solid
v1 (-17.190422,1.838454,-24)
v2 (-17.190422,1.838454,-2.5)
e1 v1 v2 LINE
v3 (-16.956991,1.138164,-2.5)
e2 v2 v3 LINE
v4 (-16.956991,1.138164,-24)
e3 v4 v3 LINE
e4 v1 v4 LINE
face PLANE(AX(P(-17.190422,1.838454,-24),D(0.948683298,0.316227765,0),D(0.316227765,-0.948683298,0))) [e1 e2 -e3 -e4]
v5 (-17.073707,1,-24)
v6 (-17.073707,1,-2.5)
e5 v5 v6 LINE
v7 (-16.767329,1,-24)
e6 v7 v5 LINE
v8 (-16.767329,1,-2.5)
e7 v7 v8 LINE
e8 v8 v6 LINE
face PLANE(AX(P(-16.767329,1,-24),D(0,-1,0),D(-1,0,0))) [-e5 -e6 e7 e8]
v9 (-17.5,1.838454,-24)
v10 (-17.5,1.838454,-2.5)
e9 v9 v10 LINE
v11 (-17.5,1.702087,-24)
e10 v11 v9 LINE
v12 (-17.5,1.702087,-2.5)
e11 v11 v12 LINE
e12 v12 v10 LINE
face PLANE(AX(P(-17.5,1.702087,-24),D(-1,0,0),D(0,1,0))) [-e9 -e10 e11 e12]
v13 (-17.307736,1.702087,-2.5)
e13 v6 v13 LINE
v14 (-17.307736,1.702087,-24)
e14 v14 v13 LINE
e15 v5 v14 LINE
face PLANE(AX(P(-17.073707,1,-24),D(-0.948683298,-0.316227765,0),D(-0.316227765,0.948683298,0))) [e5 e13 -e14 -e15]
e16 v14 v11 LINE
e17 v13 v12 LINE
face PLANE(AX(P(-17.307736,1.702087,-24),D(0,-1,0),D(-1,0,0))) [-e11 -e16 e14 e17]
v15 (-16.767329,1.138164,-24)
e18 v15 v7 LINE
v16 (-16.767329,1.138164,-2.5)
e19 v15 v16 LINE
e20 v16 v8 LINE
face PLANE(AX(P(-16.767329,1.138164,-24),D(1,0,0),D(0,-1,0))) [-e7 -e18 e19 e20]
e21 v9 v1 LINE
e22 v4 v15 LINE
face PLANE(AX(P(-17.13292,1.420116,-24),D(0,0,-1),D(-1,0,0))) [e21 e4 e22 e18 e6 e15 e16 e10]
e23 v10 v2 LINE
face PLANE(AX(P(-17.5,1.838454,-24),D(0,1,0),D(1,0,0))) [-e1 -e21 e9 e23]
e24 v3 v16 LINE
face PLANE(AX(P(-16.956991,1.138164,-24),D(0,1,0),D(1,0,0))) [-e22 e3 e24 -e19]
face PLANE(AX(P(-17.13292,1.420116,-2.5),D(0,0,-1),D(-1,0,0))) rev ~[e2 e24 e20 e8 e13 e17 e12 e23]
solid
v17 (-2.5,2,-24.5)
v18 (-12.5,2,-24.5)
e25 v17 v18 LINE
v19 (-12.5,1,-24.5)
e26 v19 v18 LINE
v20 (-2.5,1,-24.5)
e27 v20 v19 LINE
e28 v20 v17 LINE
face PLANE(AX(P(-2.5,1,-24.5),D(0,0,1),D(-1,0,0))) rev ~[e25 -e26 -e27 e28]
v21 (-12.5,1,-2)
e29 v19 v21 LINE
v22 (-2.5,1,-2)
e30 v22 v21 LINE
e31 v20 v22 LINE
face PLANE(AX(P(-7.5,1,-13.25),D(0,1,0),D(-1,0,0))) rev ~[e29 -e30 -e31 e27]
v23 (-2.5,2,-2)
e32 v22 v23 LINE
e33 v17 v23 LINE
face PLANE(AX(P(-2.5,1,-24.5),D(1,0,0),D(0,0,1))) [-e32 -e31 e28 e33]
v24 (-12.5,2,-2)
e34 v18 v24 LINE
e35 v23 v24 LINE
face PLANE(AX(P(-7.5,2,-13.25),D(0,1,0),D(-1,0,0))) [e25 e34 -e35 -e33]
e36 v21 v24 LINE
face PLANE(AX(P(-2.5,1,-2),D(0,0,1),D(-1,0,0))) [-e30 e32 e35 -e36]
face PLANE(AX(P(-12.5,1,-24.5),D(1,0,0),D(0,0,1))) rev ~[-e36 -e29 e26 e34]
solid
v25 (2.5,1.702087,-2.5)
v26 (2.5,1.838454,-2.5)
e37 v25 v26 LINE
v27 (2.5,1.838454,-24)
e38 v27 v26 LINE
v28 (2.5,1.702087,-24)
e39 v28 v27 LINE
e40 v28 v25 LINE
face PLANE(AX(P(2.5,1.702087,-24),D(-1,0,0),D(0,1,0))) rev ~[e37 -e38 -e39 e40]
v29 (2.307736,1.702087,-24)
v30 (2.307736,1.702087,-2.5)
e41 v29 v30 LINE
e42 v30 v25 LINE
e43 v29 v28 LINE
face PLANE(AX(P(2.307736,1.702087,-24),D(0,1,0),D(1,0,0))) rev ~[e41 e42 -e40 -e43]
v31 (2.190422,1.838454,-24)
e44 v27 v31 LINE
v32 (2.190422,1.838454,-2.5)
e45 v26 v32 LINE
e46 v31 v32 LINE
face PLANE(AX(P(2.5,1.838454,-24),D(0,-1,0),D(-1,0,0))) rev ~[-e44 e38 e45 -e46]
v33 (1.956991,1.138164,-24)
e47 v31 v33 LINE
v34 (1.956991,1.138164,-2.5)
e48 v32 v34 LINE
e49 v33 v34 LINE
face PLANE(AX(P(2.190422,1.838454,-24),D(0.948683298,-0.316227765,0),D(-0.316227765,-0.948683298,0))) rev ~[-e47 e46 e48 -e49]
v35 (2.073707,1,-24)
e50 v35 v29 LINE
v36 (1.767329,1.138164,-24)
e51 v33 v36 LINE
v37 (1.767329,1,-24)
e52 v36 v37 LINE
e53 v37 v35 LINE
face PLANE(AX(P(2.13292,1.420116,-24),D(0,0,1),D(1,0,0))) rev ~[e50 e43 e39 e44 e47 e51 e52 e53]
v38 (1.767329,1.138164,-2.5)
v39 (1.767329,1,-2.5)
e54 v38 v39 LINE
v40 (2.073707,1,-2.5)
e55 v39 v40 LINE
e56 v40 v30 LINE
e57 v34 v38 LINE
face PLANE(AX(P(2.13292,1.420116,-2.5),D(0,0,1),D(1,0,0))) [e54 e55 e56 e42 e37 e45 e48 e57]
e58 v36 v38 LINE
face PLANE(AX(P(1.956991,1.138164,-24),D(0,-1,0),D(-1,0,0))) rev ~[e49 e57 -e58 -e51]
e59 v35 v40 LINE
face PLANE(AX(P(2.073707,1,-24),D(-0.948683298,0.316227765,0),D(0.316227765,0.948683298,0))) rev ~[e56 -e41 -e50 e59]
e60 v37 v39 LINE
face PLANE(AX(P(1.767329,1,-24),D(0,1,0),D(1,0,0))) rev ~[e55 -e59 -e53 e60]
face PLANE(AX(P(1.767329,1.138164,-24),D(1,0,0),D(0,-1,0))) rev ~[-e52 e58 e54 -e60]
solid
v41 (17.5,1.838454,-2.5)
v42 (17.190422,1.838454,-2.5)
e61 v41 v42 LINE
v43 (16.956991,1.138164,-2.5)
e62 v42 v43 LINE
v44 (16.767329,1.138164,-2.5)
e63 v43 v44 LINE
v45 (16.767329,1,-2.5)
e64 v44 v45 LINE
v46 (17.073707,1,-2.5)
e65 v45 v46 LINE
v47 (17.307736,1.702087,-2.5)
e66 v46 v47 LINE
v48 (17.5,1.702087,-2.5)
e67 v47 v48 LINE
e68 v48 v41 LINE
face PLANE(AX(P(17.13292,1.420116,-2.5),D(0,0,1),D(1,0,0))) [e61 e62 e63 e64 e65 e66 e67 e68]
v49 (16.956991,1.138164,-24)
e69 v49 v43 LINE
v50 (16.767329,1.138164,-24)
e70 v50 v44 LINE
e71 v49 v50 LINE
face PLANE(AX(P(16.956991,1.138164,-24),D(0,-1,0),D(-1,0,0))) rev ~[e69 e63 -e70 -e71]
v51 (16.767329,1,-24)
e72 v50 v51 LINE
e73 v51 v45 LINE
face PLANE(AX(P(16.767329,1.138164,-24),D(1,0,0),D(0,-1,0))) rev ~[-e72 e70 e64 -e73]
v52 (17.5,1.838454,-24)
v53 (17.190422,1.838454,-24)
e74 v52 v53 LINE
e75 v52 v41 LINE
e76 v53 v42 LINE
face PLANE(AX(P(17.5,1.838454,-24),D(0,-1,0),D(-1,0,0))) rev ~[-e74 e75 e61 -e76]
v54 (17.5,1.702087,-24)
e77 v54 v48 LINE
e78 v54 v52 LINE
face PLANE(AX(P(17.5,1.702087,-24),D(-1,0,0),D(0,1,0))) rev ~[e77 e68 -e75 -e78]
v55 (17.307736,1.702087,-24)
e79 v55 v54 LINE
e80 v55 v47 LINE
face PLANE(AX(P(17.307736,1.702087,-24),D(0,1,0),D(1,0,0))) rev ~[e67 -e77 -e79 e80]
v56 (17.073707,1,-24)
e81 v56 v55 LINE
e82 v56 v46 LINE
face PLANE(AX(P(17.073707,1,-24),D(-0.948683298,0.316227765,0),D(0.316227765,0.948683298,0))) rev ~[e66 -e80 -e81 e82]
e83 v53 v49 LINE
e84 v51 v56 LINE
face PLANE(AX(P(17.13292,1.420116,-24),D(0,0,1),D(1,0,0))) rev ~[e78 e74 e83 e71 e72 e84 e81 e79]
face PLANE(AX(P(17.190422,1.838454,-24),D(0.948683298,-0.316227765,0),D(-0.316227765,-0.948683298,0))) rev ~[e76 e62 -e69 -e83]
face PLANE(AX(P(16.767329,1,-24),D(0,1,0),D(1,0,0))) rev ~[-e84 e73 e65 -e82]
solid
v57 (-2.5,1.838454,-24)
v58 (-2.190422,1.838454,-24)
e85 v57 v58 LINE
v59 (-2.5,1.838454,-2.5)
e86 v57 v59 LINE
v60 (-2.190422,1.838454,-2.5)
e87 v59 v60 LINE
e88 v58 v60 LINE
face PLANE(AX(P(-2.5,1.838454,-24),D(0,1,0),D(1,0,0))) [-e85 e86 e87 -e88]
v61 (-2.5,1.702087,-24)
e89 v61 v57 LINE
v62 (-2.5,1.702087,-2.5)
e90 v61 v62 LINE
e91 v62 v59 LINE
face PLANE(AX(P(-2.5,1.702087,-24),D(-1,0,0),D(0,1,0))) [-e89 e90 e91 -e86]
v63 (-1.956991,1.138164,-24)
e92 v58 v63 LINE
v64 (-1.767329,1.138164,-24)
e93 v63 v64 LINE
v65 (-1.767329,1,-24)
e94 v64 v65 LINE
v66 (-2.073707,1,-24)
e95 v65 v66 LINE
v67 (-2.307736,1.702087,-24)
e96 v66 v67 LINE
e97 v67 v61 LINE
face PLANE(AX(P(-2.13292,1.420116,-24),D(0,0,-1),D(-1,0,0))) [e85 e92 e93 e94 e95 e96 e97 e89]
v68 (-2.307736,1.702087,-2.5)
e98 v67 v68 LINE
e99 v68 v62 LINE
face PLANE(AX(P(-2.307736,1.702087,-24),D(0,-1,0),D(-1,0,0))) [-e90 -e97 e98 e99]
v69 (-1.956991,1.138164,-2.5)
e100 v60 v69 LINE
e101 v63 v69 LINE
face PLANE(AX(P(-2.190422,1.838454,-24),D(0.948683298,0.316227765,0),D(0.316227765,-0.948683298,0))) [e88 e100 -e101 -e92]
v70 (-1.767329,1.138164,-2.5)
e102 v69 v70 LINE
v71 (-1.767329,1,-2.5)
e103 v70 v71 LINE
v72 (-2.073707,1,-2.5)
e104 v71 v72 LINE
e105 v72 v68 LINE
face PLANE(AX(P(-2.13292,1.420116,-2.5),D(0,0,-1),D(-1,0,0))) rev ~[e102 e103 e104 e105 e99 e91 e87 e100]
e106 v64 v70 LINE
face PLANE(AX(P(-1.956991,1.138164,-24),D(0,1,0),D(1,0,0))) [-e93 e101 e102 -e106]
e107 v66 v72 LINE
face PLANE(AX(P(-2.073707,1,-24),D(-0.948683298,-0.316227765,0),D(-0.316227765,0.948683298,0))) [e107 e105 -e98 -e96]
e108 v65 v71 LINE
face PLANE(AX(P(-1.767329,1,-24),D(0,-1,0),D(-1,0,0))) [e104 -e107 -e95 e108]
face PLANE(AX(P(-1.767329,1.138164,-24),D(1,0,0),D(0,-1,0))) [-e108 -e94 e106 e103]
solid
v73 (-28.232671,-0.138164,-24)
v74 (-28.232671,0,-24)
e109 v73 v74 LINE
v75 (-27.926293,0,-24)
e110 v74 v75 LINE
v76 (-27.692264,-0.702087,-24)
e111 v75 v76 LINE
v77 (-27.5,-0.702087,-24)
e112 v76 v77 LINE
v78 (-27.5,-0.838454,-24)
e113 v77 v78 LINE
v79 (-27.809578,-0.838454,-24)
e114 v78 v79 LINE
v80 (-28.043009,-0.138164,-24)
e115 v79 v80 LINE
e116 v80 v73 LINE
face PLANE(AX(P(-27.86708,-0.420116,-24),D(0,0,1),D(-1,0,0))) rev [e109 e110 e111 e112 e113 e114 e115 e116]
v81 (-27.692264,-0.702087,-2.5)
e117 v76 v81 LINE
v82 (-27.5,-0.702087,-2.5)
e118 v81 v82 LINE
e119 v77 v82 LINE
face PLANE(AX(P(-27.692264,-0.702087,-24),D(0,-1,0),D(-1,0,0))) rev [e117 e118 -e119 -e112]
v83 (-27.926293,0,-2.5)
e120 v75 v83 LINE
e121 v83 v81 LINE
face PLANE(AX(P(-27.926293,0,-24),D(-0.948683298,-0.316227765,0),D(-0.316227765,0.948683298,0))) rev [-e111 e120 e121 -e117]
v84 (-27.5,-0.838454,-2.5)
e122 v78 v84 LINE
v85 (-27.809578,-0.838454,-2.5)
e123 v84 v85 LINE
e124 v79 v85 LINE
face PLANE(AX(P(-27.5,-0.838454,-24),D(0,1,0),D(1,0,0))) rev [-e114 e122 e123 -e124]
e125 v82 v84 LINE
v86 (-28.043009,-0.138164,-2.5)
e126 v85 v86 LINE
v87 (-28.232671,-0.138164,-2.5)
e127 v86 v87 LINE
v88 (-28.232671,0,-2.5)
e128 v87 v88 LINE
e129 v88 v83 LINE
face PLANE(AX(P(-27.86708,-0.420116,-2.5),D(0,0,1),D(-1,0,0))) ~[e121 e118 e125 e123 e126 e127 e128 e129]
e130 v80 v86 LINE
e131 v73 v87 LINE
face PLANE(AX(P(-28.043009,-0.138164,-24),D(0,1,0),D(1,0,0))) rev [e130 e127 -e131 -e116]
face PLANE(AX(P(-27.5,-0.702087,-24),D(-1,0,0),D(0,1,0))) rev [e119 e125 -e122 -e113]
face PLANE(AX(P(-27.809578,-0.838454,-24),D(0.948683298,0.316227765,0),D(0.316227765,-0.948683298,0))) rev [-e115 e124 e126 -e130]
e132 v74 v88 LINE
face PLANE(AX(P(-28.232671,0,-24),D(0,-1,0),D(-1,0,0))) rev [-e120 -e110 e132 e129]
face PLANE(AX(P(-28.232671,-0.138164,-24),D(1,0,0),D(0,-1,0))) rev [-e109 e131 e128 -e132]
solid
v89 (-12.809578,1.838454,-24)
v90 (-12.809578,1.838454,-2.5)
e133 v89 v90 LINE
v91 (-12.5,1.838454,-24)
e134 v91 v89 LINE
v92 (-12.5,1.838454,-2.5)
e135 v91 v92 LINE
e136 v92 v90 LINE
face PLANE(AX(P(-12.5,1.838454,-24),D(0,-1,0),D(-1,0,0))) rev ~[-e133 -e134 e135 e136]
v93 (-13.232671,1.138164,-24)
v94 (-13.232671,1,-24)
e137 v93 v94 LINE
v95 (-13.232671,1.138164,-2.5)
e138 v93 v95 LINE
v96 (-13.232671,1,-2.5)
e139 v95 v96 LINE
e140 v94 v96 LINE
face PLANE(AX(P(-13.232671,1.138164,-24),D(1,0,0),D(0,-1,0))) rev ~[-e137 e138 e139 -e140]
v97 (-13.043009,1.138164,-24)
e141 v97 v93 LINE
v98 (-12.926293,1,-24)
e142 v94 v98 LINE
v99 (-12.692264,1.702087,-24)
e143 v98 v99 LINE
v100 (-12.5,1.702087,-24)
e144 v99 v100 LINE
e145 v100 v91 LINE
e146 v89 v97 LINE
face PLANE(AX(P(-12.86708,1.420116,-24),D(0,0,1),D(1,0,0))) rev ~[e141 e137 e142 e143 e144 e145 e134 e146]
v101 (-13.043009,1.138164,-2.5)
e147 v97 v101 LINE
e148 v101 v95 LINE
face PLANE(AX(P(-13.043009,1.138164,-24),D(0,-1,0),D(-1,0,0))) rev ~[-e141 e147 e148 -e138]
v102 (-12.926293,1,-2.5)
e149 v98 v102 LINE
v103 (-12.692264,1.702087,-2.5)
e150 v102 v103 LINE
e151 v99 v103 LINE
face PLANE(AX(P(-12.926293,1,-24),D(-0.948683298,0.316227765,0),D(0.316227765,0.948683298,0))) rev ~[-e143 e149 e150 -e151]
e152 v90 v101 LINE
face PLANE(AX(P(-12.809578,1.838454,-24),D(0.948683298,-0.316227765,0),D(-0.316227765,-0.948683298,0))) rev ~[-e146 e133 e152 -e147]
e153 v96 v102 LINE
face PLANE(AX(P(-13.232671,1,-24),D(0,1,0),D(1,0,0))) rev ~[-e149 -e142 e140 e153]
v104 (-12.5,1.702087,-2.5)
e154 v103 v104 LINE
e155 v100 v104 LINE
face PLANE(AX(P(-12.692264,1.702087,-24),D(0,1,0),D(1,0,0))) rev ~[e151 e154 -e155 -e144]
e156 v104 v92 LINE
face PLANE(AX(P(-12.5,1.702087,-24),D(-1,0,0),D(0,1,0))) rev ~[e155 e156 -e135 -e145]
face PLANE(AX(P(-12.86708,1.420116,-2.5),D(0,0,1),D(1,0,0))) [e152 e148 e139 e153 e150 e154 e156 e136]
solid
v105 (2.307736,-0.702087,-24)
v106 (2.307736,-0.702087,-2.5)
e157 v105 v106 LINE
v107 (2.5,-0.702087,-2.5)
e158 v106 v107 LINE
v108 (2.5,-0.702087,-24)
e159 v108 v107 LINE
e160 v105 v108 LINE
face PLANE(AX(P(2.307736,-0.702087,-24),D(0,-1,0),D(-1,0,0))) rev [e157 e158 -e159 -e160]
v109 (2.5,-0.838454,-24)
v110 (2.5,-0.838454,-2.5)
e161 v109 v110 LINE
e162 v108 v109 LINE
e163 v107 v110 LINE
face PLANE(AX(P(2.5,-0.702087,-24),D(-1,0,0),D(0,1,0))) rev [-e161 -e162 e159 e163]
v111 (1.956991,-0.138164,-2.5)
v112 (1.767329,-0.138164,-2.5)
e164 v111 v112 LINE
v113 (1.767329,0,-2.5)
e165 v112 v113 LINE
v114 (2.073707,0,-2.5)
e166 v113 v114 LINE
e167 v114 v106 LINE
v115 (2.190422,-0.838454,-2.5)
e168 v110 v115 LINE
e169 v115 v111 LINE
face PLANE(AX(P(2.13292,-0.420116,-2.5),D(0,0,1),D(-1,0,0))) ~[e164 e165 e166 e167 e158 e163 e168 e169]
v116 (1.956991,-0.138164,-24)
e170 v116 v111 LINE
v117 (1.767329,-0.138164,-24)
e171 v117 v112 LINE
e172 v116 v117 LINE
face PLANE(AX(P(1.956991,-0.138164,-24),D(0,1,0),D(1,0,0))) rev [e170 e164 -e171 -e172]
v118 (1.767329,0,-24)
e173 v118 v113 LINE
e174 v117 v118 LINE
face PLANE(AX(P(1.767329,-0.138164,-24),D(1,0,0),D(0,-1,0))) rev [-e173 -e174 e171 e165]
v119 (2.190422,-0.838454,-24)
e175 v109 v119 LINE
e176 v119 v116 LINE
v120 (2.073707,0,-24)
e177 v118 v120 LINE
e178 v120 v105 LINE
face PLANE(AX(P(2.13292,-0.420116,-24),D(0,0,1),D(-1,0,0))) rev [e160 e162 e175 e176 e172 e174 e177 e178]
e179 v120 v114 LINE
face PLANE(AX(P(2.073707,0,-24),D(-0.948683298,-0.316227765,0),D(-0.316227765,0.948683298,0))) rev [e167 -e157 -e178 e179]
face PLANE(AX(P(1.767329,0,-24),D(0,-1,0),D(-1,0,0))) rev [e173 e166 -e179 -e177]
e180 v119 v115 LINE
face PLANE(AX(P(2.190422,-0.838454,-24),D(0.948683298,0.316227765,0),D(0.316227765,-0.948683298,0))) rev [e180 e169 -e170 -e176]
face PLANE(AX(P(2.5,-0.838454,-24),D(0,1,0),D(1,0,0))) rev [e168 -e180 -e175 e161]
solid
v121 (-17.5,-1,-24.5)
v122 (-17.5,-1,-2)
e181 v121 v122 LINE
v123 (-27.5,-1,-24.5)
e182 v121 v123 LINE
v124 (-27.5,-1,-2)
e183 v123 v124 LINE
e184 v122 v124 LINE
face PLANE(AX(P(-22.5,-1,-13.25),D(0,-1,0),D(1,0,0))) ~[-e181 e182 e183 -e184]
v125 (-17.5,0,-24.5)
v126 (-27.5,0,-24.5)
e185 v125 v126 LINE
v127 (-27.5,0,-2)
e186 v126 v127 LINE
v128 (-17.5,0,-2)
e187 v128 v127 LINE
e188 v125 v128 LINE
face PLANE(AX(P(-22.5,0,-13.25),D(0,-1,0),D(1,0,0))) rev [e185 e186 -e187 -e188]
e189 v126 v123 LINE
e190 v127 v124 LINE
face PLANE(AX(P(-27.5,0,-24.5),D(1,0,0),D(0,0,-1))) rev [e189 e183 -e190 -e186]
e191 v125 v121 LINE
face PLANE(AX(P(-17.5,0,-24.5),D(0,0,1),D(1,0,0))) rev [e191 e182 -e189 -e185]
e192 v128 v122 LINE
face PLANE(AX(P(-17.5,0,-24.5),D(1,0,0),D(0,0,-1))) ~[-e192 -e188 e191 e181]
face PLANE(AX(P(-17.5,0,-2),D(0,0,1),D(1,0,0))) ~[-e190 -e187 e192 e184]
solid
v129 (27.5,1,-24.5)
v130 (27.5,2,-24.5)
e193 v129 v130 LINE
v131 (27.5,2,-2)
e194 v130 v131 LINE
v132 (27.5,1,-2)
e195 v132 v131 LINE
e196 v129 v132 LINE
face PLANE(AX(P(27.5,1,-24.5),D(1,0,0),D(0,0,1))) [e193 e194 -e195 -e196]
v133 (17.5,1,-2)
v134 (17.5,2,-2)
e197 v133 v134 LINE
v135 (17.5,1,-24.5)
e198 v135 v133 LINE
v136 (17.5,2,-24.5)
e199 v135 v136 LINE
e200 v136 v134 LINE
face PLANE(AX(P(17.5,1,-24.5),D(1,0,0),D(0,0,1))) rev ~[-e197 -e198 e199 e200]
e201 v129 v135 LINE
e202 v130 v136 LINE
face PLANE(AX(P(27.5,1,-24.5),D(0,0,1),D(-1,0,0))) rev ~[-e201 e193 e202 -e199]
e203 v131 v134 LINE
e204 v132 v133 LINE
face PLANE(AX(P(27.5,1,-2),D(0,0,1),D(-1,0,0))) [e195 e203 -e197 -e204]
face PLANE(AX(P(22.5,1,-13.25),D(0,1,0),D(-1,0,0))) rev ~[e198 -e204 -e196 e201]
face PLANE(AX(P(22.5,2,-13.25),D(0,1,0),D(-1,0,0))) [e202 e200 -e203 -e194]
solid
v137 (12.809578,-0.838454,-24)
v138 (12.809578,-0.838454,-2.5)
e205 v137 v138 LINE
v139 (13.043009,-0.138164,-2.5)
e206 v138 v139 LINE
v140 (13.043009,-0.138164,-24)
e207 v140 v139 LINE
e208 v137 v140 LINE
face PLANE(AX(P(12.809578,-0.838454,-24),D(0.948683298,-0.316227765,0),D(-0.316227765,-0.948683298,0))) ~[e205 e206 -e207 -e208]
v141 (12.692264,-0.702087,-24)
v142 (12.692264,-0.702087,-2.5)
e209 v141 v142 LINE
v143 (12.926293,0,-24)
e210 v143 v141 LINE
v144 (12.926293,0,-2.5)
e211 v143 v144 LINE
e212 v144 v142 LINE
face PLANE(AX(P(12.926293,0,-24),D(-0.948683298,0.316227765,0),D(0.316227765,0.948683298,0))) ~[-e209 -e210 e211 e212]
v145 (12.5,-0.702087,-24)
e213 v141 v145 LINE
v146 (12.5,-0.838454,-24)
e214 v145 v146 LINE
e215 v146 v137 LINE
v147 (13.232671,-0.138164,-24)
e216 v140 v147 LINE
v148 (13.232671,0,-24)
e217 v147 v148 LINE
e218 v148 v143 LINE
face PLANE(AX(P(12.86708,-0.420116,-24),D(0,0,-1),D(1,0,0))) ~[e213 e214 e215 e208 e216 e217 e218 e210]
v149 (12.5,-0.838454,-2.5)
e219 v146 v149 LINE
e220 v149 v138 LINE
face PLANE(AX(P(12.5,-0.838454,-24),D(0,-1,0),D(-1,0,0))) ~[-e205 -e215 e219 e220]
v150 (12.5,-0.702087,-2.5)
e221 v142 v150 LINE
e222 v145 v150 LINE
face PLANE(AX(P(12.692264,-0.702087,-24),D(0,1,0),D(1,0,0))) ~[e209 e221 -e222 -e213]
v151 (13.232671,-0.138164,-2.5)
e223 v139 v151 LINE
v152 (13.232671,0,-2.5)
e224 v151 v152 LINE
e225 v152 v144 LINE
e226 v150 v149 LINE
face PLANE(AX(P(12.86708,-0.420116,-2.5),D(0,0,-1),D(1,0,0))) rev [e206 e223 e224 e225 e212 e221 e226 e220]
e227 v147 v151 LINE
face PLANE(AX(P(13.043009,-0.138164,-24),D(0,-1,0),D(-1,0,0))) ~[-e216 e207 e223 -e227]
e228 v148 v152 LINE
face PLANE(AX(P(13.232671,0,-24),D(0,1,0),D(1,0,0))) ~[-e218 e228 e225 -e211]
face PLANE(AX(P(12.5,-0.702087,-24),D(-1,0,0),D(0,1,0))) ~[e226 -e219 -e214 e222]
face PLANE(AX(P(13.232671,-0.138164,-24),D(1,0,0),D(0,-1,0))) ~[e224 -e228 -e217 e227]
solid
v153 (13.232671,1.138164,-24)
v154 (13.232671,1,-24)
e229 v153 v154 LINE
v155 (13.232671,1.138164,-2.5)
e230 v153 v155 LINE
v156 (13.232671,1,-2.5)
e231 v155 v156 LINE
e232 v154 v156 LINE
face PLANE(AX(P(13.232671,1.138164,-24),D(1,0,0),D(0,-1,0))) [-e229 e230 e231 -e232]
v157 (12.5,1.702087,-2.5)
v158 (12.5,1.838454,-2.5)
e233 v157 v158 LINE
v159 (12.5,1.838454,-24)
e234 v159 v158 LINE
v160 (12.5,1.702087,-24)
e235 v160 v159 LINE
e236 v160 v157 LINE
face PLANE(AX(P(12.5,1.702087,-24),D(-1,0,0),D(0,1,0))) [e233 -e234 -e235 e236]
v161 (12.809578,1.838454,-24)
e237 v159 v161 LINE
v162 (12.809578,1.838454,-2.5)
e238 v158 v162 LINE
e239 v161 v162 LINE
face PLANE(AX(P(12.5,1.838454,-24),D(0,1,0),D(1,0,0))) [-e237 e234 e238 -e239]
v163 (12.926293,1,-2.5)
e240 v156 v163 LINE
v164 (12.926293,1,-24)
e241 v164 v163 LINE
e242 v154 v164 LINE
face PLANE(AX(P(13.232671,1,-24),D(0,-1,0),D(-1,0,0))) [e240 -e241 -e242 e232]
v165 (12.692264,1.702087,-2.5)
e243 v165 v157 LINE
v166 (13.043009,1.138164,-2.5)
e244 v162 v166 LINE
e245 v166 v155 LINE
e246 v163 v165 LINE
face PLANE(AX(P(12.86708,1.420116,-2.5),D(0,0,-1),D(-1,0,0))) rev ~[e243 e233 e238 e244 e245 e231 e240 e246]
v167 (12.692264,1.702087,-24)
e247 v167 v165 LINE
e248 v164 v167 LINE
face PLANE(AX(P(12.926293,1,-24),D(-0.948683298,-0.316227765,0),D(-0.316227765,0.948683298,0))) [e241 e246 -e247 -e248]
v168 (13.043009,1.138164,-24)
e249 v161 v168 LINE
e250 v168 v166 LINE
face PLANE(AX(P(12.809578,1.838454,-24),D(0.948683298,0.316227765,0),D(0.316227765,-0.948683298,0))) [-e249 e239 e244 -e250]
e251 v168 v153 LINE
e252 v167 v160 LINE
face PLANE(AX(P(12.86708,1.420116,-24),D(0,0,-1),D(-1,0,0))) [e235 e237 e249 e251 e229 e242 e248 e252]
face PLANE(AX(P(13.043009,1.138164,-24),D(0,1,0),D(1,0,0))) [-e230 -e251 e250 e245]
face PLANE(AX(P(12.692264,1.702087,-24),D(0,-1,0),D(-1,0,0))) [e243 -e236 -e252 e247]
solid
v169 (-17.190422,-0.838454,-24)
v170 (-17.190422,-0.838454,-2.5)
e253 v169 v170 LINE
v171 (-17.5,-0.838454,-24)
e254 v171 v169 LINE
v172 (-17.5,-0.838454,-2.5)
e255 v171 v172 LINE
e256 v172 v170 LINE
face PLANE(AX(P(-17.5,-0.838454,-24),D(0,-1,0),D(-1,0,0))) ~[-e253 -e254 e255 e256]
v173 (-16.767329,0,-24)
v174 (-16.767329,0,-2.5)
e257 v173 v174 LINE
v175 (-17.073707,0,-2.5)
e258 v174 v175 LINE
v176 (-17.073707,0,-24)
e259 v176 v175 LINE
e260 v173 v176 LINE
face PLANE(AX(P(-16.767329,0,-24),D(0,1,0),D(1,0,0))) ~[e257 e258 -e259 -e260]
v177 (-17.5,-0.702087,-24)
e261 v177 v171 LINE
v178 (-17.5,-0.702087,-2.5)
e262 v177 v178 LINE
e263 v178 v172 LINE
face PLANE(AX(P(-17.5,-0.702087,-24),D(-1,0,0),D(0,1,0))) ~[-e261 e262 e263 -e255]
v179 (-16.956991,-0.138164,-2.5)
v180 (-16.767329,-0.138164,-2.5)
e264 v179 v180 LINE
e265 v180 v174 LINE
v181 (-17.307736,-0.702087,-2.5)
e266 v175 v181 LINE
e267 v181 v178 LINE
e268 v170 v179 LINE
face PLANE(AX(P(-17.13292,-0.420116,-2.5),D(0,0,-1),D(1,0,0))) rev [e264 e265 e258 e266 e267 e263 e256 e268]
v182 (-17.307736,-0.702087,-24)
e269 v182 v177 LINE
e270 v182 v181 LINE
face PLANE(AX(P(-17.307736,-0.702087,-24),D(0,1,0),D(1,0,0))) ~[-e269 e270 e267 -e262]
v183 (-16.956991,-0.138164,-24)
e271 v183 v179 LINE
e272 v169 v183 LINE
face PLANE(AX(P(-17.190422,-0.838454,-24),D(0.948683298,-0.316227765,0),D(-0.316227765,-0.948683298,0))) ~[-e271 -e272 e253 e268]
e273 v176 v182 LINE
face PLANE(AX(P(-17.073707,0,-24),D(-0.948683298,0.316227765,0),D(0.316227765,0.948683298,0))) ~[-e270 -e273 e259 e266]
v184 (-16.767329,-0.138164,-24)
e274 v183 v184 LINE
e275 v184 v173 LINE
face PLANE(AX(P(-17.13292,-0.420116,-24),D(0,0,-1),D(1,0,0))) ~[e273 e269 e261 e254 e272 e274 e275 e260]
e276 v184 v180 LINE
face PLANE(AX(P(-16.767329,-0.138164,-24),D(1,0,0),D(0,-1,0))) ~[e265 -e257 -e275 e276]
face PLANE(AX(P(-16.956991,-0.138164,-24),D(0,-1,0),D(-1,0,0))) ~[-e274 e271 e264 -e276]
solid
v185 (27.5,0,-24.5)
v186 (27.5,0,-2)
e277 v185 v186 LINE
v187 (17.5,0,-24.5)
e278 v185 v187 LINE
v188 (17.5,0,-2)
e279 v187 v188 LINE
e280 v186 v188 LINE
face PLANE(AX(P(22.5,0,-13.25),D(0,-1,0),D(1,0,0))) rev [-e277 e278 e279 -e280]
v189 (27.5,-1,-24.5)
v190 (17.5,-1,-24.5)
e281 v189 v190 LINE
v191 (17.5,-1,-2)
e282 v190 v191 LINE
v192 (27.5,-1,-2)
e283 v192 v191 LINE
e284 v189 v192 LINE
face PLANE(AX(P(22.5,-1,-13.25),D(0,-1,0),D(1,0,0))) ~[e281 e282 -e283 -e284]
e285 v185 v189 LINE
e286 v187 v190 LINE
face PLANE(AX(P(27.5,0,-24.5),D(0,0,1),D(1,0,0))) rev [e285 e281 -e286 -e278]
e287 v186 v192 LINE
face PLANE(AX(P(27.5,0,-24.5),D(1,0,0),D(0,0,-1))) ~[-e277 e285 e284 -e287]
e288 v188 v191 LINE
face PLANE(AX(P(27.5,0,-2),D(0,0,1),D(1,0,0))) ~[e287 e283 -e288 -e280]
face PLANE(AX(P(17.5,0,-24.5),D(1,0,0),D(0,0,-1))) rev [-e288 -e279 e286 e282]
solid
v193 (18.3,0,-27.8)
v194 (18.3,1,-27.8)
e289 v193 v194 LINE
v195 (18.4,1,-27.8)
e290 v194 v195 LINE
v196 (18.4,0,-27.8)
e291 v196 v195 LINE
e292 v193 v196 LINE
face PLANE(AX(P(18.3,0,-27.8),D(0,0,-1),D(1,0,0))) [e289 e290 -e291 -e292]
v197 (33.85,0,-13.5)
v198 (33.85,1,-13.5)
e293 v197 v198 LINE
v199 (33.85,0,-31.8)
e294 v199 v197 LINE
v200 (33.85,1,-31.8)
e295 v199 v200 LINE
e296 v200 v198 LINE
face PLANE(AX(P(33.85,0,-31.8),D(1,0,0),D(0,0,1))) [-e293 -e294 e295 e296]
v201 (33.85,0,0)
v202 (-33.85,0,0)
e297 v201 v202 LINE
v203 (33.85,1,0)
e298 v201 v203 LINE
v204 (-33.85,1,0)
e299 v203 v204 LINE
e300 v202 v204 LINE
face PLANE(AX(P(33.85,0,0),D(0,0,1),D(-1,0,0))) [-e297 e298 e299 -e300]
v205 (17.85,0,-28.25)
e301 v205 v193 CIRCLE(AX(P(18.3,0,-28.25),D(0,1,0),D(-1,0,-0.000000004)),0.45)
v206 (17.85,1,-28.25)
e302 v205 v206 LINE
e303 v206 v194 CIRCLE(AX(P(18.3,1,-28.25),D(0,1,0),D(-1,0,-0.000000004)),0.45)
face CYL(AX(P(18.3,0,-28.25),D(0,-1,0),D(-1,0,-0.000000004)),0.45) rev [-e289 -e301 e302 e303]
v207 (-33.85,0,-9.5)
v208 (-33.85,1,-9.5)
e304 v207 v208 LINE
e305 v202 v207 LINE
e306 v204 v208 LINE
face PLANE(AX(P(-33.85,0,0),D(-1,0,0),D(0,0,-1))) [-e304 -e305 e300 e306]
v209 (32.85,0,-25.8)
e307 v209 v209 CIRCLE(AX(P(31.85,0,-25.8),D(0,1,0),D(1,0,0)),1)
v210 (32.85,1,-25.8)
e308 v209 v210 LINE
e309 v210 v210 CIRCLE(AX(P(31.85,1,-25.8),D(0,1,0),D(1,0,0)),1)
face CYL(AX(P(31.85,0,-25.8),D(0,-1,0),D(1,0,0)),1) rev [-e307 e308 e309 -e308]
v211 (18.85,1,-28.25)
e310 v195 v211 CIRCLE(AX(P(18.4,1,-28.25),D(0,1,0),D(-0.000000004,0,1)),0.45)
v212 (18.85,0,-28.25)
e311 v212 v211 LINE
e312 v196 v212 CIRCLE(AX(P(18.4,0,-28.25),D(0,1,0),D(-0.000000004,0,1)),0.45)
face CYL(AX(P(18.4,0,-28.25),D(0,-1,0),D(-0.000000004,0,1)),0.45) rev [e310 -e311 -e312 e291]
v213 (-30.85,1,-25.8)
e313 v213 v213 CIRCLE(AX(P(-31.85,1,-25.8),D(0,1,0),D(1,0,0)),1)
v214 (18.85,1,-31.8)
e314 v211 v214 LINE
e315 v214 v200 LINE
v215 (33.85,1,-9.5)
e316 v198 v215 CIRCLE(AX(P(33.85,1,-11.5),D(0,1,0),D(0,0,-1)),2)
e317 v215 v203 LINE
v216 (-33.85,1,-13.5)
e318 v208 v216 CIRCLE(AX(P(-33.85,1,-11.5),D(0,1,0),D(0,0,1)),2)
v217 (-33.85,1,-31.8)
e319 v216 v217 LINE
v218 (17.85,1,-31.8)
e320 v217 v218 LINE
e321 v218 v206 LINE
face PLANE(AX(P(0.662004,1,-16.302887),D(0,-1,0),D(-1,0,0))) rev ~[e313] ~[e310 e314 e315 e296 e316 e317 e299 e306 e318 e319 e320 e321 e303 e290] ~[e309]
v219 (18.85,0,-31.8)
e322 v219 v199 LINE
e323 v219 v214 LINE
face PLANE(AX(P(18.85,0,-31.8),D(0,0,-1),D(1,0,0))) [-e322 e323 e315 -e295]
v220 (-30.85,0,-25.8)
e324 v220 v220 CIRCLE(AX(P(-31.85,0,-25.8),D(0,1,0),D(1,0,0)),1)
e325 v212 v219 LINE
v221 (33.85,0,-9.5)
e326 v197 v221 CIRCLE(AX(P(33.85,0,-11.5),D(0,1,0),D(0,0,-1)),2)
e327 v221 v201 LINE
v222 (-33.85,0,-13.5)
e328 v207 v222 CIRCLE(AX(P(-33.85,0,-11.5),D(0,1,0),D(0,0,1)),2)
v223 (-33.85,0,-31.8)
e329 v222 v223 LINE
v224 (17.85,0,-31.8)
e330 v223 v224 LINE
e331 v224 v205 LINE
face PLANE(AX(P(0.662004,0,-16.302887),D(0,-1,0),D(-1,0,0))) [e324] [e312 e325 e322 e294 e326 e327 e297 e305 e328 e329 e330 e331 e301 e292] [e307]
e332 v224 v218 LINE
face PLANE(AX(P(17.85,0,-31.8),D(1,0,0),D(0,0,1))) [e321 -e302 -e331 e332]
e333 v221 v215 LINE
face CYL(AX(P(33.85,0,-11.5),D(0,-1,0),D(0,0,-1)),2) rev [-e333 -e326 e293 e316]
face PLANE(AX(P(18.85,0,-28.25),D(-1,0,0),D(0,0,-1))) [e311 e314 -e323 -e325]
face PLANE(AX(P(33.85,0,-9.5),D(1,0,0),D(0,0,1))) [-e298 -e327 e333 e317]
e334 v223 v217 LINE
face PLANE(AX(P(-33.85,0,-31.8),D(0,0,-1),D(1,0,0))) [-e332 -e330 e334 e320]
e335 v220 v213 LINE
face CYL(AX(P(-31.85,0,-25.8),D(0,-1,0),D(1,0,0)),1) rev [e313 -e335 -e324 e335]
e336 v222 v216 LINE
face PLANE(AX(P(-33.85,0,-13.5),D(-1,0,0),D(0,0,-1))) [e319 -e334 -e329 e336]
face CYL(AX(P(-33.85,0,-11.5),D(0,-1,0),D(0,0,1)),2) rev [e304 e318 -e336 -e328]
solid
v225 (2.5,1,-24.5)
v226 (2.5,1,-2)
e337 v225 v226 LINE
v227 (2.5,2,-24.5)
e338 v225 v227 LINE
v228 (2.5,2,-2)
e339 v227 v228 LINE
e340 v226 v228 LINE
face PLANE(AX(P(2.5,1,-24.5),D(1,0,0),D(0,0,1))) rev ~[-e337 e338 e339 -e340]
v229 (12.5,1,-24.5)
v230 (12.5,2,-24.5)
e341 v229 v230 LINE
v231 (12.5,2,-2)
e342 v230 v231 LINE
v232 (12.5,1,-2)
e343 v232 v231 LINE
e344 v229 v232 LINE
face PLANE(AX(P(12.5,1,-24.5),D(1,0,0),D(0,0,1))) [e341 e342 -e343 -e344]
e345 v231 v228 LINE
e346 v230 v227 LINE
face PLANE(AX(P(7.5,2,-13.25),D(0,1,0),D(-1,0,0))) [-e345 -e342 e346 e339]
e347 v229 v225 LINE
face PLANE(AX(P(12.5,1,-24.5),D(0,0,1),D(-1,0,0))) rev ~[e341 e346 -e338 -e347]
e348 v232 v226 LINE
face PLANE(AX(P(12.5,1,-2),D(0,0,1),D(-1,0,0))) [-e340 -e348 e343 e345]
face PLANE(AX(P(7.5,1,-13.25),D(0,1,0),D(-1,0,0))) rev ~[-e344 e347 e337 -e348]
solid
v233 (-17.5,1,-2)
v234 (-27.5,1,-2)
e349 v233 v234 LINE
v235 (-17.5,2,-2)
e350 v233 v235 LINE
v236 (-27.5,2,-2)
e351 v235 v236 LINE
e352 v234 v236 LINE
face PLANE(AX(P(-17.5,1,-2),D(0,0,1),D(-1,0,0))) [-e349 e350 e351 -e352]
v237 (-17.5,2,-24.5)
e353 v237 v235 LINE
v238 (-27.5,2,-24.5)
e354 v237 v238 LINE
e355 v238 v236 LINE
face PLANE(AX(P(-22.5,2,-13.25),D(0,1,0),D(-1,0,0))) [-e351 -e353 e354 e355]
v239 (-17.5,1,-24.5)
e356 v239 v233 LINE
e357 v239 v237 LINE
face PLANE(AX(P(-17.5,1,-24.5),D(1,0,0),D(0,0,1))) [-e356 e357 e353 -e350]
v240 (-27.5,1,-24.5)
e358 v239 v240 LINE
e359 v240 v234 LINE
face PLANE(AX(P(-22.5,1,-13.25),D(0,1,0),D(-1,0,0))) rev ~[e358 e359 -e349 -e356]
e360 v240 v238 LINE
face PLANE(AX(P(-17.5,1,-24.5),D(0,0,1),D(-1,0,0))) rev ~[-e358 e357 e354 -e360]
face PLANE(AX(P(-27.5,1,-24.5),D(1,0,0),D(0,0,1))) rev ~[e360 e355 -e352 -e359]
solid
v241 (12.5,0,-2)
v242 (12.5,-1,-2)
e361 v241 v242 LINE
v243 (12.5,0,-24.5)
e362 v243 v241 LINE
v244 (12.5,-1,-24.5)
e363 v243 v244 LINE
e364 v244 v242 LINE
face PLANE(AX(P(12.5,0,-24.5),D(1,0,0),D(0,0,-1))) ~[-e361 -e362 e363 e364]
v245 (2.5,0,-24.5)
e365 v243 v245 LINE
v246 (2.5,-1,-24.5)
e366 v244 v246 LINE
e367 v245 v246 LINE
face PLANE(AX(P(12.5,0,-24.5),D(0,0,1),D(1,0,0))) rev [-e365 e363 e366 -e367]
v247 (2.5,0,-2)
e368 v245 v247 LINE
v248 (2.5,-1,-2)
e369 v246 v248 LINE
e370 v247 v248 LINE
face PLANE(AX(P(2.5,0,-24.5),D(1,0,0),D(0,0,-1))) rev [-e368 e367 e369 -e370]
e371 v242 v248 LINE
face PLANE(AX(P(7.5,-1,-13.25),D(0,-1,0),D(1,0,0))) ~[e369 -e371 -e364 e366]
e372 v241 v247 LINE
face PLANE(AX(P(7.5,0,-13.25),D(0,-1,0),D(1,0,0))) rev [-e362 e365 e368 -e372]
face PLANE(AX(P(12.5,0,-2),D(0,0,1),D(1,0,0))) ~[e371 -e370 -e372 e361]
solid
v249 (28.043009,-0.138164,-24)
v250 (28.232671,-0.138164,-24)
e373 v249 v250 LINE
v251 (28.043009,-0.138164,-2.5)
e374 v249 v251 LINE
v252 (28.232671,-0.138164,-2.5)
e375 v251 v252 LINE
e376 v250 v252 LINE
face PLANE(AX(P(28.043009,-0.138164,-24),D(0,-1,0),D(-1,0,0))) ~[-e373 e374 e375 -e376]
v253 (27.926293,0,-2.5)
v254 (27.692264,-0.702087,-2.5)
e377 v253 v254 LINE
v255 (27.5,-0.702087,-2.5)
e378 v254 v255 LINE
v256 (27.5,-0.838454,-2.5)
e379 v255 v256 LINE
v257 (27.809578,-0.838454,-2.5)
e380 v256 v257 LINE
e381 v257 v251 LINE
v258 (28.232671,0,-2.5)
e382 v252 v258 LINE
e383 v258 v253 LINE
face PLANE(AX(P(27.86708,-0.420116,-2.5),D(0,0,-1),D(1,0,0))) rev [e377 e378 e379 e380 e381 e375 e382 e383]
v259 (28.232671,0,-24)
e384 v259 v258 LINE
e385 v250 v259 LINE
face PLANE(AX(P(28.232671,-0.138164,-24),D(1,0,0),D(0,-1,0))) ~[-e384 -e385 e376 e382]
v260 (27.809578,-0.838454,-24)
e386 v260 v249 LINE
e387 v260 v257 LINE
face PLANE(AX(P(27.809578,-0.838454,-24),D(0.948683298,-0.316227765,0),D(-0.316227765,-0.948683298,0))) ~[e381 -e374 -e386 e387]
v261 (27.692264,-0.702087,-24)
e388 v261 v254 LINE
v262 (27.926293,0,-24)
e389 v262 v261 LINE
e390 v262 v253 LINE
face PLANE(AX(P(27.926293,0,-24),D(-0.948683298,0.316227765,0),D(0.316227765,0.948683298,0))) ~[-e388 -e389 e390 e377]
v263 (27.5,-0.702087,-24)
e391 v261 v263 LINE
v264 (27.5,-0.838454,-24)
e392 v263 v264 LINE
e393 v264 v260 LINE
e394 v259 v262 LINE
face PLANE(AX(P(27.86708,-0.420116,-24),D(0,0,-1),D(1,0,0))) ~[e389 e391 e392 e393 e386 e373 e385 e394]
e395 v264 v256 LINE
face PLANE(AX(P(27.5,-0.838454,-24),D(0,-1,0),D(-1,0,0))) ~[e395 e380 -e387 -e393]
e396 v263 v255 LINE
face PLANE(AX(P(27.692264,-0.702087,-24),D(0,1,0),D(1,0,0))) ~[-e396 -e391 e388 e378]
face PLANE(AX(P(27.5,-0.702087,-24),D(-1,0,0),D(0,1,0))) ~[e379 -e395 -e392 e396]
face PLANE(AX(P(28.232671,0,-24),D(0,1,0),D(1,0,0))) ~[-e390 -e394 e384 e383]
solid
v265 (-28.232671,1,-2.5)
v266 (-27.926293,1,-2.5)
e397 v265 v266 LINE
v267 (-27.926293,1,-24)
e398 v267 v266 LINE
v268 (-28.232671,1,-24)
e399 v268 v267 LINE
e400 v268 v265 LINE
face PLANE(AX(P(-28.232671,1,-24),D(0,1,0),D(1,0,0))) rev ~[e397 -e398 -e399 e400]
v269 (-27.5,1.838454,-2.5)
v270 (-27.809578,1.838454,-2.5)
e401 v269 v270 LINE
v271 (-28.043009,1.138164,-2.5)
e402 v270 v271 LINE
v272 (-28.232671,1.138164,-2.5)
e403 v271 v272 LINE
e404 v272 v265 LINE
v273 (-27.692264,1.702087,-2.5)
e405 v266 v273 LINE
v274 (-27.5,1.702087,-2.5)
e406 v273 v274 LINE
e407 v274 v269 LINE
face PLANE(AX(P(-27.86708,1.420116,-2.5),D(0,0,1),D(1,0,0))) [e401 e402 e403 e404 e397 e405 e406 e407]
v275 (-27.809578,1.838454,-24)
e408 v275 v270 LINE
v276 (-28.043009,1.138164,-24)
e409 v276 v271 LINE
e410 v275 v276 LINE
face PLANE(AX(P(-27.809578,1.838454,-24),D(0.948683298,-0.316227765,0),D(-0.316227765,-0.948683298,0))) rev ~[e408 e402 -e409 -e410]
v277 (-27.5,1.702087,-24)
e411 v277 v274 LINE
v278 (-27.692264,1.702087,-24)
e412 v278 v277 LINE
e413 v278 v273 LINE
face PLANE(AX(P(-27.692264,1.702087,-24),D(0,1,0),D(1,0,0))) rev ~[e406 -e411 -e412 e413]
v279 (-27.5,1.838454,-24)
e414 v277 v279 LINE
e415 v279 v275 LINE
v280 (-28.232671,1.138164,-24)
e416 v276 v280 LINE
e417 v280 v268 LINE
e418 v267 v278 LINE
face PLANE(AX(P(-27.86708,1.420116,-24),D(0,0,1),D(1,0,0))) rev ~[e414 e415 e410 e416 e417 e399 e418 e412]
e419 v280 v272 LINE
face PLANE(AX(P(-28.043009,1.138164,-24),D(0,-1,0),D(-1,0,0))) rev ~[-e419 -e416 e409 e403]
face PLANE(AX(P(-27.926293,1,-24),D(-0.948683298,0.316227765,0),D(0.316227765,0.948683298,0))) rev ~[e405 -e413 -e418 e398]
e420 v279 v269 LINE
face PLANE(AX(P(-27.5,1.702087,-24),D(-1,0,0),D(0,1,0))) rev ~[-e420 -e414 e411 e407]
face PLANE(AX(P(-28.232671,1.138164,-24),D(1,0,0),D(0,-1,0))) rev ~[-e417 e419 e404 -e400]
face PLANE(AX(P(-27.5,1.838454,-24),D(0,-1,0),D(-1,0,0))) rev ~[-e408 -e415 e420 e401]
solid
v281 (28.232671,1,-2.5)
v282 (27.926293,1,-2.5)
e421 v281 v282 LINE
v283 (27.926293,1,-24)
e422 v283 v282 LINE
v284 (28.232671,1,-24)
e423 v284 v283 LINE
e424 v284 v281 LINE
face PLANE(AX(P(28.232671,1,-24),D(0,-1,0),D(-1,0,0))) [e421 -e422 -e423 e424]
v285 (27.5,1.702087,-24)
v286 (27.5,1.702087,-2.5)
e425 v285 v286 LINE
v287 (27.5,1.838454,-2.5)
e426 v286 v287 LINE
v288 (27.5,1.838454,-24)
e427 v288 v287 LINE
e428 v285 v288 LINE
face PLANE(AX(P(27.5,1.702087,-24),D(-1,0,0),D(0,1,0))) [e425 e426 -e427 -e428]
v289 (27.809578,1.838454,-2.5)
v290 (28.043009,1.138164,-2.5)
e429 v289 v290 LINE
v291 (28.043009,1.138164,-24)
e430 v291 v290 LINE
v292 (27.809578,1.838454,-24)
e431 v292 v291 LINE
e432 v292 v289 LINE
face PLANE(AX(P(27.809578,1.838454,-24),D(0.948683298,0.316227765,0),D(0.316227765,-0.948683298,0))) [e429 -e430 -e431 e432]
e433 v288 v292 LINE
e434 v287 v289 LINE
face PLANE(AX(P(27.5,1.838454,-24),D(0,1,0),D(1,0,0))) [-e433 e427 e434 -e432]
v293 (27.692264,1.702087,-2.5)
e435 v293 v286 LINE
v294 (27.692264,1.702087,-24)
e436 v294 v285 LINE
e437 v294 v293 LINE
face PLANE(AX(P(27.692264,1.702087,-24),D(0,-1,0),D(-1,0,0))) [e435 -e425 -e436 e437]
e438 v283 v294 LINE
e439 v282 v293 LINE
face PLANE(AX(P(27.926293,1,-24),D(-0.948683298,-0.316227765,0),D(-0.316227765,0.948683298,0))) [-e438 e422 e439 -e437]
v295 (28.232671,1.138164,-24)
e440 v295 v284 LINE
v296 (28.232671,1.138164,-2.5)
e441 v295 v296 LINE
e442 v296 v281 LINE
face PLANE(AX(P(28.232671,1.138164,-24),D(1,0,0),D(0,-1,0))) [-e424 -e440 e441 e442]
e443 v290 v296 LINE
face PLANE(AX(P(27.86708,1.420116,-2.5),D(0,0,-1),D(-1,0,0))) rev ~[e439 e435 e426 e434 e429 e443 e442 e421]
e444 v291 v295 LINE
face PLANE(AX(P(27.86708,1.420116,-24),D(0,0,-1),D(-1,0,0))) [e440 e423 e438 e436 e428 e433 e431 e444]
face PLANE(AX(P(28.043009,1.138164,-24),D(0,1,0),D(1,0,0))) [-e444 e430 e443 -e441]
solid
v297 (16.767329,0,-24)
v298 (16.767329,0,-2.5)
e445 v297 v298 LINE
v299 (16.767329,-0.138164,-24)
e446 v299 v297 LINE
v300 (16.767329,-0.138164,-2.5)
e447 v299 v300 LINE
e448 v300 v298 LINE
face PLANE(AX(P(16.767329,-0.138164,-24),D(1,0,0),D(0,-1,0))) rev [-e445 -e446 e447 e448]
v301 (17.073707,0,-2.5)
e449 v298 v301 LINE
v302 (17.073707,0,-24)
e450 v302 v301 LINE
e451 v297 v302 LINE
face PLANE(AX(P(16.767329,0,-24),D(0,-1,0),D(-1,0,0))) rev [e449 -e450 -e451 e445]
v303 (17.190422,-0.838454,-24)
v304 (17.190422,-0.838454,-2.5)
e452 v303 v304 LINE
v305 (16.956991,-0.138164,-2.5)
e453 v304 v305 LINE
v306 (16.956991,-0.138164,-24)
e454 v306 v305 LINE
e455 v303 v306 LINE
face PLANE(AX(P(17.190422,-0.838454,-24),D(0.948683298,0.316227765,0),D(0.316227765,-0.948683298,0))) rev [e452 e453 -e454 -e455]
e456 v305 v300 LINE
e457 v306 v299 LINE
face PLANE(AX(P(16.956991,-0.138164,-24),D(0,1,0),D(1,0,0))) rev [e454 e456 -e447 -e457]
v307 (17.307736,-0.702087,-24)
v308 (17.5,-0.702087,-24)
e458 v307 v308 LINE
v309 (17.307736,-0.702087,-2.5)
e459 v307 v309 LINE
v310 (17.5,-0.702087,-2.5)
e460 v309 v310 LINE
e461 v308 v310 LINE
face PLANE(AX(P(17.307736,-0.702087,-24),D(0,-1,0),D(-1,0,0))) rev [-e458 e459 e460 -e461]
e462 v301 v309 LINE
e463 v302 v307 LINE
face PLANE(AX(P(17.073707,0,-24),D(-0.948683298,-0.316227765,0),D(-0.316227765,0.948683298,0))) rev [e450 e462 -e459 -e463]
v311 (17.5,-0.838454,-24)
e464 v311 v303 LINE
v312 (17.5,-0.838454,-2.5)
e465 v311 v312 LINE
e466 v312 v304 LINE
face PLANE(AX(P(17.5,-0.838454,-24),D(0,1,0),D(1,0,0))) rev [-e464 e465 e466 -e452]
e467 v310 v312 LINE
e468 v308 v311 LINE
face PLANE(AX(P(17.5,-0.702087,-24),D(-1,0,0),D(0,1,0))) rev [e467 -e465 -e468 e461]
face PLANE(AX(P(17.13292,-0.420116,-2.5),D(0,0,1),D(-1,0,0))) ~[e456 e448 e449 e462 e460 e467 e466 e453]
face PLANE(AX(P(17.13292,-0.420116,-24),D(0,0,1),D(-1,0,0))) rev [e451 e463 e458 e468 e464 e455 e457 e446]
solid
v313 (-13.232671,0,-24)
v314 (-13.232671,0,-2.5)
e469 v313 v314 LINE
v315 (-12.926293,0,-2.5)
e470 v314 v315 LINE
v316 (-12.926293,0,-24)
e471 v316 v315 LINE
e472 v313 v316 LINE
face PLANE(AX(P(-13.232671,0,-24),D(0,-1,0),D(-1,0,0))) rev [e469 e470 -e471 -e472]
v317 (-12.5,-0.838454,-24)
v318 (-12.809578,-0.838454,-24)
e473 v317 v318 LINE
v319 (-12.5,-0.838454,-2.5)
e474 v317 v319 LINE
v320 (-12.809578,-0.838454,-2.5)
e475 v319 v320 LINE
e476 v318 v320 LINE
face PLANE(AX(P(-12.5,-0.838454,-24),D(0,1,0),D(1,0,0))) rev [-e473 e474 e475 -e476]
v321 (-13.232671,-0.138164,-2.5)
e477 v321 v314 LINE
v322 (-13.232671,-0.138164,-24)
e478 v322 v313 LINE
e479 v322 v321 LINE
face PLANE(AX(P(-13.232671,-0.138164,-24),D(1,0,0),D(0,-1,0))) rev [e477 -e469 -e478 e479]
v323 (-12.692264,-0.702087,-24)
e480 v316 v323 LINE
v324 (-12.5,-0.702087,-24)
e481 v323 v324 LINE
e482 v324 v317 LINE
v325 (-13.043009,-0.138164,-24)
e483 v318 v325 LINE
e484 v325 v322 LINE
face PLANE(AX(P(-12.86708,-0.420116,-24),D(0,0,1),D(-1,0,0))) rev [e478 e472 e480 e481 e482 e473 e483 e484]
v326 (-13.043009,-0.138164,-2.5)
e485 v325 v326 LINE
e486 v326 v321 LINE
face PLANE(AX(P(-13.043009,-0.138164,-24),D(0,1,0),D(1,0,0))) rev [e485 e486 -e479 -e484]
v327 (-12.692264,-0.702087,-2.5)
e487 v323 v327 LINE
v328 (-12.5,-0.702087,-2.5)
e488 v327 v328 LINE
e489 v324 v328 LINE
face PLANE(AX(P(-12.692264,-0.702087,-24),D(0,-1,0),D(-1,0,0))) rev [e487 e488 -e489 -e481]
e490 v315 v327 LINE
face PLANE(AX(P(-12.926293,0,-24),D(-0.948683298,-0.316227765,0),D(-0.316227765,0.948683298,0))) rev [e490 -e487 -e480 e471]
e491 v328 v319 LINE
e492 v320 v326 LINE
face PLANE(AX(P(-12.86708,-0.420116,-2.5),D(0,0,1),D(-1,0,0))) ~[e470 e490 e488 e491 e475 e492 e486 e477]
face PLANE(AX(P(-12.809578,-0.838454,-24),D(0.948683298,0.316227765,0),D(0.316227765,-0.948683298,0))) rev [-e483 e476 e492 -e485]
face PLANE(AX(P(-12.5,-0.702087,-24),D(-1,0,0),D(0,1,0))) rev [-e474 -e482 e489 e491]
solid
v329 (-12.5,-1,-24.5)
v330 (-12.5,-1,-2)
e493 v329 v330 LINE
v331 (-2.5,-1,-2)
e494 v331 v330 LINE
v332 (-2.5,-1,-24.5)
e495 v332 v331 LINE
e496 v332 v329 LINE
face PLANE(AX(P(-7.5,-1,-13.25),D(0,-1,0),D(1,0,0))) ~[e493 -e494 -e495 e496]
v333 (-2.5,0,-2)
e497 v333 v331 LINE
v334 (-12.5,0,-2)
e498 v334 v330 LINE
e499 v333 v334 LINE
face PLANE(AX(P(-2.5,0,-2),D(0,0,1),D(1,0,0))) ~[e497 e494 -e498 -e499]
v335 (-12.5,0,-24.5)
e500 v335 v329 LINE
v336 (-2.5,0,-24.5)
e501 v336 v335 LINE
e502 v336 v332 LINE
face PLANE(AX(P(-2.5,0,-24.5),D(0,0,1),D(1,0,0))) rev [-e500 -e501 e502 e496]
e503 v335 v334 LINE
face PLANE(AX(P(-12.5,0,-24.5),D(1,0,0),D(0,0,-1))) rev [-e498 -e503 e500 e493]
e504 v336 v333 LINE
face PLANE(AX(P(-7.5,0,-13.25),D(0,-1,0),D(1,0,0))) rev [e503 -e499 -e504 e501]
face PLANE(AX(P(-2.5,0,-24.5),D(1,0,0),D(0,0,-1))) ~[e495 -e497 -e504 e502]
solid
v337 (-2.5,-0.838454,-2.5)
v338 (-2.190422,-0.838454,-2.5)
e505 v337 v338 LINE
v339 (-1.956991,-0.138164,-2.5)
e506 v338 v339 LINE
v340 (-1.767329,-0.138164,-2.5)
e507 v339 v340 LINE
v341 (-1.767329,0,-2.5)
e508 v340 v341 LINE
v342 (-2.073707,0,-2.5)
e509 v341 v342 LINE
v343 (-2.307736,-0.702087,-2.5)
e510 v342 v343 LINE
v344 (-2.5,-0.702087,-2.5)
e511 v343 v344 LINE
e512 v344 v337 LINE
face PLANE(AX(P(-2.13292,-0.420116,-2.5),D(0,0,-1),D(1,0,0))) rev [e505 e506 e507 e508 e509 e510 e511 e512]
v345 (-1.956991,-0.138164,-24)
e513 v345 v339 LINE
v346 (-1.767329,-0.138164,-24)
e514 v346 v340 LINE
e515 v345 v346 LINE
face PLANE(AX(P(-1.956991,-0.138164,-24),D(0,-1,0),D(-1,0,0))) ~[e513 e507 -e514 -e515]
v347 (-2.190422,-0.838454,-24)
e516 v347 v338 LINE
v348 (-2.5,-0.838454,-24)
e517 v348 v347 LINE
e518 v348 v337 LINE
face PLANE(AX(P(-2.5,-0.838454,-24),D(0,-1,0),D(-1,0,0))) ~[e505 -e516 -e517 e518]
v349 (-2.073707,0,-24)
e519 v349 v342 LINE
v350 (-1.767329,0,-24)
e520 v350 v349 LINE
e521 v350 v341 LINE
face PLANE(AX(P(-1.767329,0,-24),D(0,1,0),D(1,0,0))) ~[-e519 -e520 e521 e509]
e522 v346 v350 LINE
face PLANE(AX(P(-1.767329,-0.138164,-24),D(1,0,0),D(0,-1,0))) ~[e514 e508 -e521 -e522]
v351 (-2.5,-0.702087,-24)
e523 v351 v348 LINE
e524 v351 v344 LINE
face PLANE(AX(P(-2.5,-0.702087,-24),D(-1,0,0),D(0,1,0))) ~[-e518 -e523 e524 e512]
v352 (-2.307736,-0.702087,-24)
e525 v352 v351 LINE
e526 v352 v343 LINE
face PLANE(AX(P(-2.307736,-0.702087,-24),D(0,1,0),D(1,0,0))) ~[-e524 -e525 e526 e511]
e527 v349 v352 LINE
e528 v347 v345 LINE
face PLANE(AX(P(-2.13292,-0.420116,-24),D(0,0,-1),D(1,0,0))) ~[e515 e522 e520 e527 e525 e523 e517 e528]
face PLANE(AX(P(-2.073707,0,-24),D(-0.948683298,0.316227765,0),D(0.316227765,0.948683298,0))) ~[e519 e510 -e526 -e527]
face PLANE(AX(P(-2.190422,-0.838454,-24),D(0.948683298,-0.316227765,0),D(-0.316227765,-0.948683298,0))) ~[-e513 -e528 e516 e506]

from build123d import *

# Parameters (mm, degrees)
CROQUIS1_R       = 1
EXTRUIR1_DEPTH   = 1
CROQUIS2_W       = 10
CROQUIS2_H       = 22.5
EXTRUIR2_DEPTH   = 1
EXTRUIR2_2_DEPTH = 1
EXTRUIR2_3_DEPTH = 1
EXTRUIR2_4_DEPTH = 1
EXTRUIR3_DEPTH   = 21.5
EXTRUIR3_2_DEPTH = 21.5
EXTRUIR3_3_DEPTH = 21.5
EXTRUIR3_4_DEPTH = 21.5
EXTRUIR3_5_DEPTH = 21.5
EXTRUIR3_6_DEPTH = 21.5
EXTRUIR3_7_DEPTH = 21.5
EXTRUIR3_8_DEPTH = 21.5


with BuildPart() as part:
    # Croquis1 → Extruir1 (new body)
    with BuildSketch(Plane(origin=(0, 0, 0), x_dir=(1, 0, 0), z_dir=(0, 1, 0))):
        with BuildLine():
            Line((33.85, 9.5), (33.85, 0))
            Line((33.85, 0), (-33.85, 0))
            Line((-33.85, 0), (-33.85, 9.5))
            ThreePointArc((-33.85, 9.5), (-31.85, 11.5), (-33.85, 13.5))
            Line((-33.85, 13.5), (-33.85, 31.8))
            Line((-33.85, 31.8), (17.85, 31.8))
            Line((17.85, 31.8), (17.85, 28.25))
            ThreePointArc((17.85, 28.25), (17.981801948, 27.931801948), (18.3, 27.8))
            Line((18.3, 27.8), (18.4, 27.8))
            ThreePointArc((18.4, 27.8), (18.718198052, 27.931801948), (18.85, 28.25))
            Line((18.85, 28.25), (18.85, 31.8))
            Line((18.85, 31.8), (33.85, 31.8))
            Line((33.85, 31.8), (33.85, 13.5))
            ThreePointArc((33.85, 13.5), (31.85, 11.5), (33.85, 9.5))
        make_face()
        with Locations((31.85, 25.8)):
            Circle(CROQUIS1_R, mode=Mode.SUBTRACT)
        with Locations((-31.85, 25.8)):
            Circle(CROQUIS1_R, mode=Mode.SUBTRACT)
    extrude(amount=EXTRUIR1_DEPTH)


with BuildPart() as body_2:
    # Croquis2 → Extruir2 (new body)
    with BuildSketch(Plane(origin=(0, 1, 0), x_dir=(-1, 0, 0), z_dir=(0, 1, 0))):
        with Locations((7.5, -13.25)):
            Rectangle(CROQUIS2_W, CROQUIS2_H)
    extrude(amount=EXTRUIR2_DEPTH)


with BuildPart() as body_3:
    # Croquis2 → Extruir2 2 (new body)
    with BuildSketch(Plane(origin=(0, 1, 0), x_dir=(-1, 0, 0), z_dir=(0, 1, 0))):
        with Locations((22.5, -13.25)):
            Rectangle(CROQUIS2_W, CROQUIS2_H)
    extrude(amount=EXTRUIR2_2_DEPTH)


with BuildPart() as body_4:
    # Croquis2 → Extruir2 3 (new body)
    with BuildSketch(Plane(origin=(0, 1, 0), x_dir=(-1, 0, 0), z_dir=(0, 1, 0))):
        with Locations((-22.5, -13.25)):
            Rectangle(CROQUIS2_W, CROQUIS2_H)
    extrude(amount=EXTRUIR2_3_DEPTH)


with BuildPart() as body_5:
    # Croquis2 → Extruir2 4 (new body)
    with BuildSketch(Plane(origin=(0, 1, 0), x_dir=(-1, 0, 0), z_dir=(0, 1, 0))):
        with Locations((-7.5, -13.25)):
            Rectangle(CROQUIS2_W, CROQUIS2_H)
    extrude(amount=EXTRUIR2_4_DEPTH)


with BuildPart() as body_6:
    # Croquis3 → Extruir3 (new body)
    with BuildSketch(Plane(origin=(0, 0, -24), x_dir=(-1, 0, 0), z_dir=(0, 0, -1))):
        Polygon((27.5, 1.838454184), (27.80957835, 1.838454184), (28.043008569, 1.138163525), (28.232670623, 1.138163525), (28.232670623, 1), (27.926293459, 1), (27.692264471, 1.702086966), (27.5, 1.702086966), align=None)
    extrude(amount=-EXTRUIR3_DEPTH)


with BuildPart() as body_7:
    # Croquis3 → Extruir3 2 (new body)
    with BuildSketch(Plane(origin=(0, 0, -24), x_dir=(-1, 0, 0), z_dir=(0, 0, -1))):
        Polygon((17.5, 1.702086966), (17.5, 1.838454184), (17.19042165, 1.838454184), (16.956991431, 1.138163525), (16.767329377, 1.138163525), (16.767329377, 1), (17.073706541, 1), (17.307735529, 1.702086966), align=None)
    extrude(amount=-EXTRUIR3_2_DEPTH)


with BuildPart() as body_8:
    # Croquis3 → Extruir3 3 (new body)
    with BuildSketch(Plane(origin=(0, 0, -24), x_dir=(-1, 0, 0), z_dir=(0, 0, -1))):
        Polygon((1.767329377, 1), (2.073706541, 1), (2.307735529, 1.702086966), (2.5, 1.702086966), (2.5, 1.838454184), (2.19042165, 1.838454184), (1.956991431, 1.138163525), (1.767329377, 1.138163525), align=None)
    extrude(amount=-EXTRUIR3_3_DEPTH)


with BuildPart() as body_9:
    # Croquis3 → Extruir3 4 (new body)
    with BuildSketch(Plane(origin=(0, 0, -24), x_dir=(-1, 0, 0), z_dir=(0, 0, -1))):
        Polygon((12.80957835, 1.838454184), (13.043008569, 1.138163525), (13.232670623, 1.138163525), (13.232670623, 1), (12.926293459, 1), (12.692264471, 1.702086966), (12.5, 1.702086966), (12.5, 1.838454184), align=None)
    extrude(amount=-EXTRUIR3_4_DEPTH)


with BuildPart() as body_10:
    # Croquis3 → Extruir3 5 (new body)
    with BuildSketch(Plane(origin=(0, 0, -24), x_dir=(-1, 0, 0), z_dir=(0, 0, -1))):
        Polygon((-13.232670623, 1), (-12.926293459, 1), (-12.692264471, 1.702086966), (-12.5, 1.702086966), (-12.5, 1.838454184), (-12.80957835, 1.838454184), (-13.043008569, 1.138163525), (-13.232670623, 1.138163525), align=None)
    extrude(amount=-EXTRUIR3_5_DEPTH)


with BuildPart() as body_11:
    # Croquis3 → Extruir3 6 (new body)
    with BuildSketch(Plane(origin=(0, 0, -24), x_dir=(-1, 0, 0), z_dir=(0, 0, -1))):
        Polygon((-2.19042165, 1.838454184), (-1.956991431, 1.138163525), (-1.767329377, 1.138163525), (-1.767329377, 1), (-2.073706541, 1), (-2.307735529, 1.702086966), (-2.5, 1.702086966), (-2.5, 1.838454184), align=None)
    extrude(amount=-EXTRUIR3_6_DEPTH)


with BuildPart() as body_12:
    # Croquis3 → Extruir3 7 (new body)
    with BuildSketch(Plane(origin=(0, 0, -24), x_dir=(-1, 0, 0), z_dir=(0, 0, -1))):
        Polygon((-28.232670623, 1), (-27.926293459, 1), (-27.692264471, 1.702086966), (-27.5, 1.702086966), (-27.5, 1.838454184), (-27.80957835, 1.838454184), (-28.043008569, 1.138163525), (-28.232670623, 1.138163525), align=None)
    extrude(amount=-EXTRUIR3_7_DEPTH)


with BuildPart() as body_13:
    # Croquis3 → Extruir3 8 (new body)
    with BuildSketch(Plane(origin=(0, 0, -24), x_dir=(-1, 0, 0), z_dir=(0, 0, -1))):
        Polygon((-17.19042165, 1.838454184), (-16.956991431, 1.138163525), (-16.767329377, 1.138163525), (-16.767329377, 1), (-17.073706541, 1), (-17.307735529, 1.702086966), (-17.5, 1.702086966), (-17.5, 1.838454184), align=None)
    extrude(amount=-EXTRUIR3_8_DEPTH)


with BuildPart() as body_14:
    # Simetría2: mirrored copy
    add(body_4.part.mirror(Plane.ZX.offset(0.5)))


with BuildPart() as body_15:
    # Simetr_a2 2: mirrored copy
    add(body_5.part.mirror(Plane.ZX.offset(0.5)))


with BuildPart() as body_16:
    # Simetr_a2 3: mirrored copy
    add(body_2.part.mirror(Plane.ZX.offset(0.5)))


with BuildPart() as body_17:
    # Simetr_a2 4: mirrored copy
    add(body_3.part.mirror(Plane.ZX.offset(0.5)))


with BuildPart() as body_18:
    # Simetr_a2 5: mirrored copy
    add(body_9.part.mirror(Plane.ZX.offset(0.5)))


with BuildPart() as body_19:
    # Simetr_a2 6: mirrored copy
    add(body_6.part.mirror(Plane.ZX.offset(0.5)))


with BuildPart() as body_20:
    # Simetr_a2 7: mirrored copy
    add(body_11.part.mirror(Plane.ZX.offset(0.5)))


with BuildPart() as body_21:
    # Simetr_a2 8: mirrored copy
    add(body_13.part.mirror(Plane.ZX.offset(0.5)))


with BuildPart() as body_22:
    # Simetr_a2 9: mirrored copy
    add(body_12.part.mirror(Plane.ZX.offset(0.5)))


with BuildPart() as body_23:
    # Simetr_a2 10: mirrored copy
    add(body_10.part.mirror(Plane.ZX.offset(0.5)))


with BuildPart() as body_24:
    # Simetr_a2 11: mirrored copy
    add(body_8.part.mirror(Plane.ZX.offset(0.5)))


with BuildPart() as body_25:
    # Simetr_a2 12: mirrored copy
    add(body_7.part.mirror(Plane.ZX.offset(0.5)))


solid = Compound([part.part, body_2.part, body_3.part, body_4.part, body_5.part, body_6.part, body_7.part, body_8.part, body_9.part, body_10.part, body_11.part, body_12.part, body_13.part, body_14.part, body_15.part, body_16.part, body_17.part, body_18.part, body_19.part, body_20.part, body_21.part, body_22.part, body_23.part, body_24.part, body_25.part])
